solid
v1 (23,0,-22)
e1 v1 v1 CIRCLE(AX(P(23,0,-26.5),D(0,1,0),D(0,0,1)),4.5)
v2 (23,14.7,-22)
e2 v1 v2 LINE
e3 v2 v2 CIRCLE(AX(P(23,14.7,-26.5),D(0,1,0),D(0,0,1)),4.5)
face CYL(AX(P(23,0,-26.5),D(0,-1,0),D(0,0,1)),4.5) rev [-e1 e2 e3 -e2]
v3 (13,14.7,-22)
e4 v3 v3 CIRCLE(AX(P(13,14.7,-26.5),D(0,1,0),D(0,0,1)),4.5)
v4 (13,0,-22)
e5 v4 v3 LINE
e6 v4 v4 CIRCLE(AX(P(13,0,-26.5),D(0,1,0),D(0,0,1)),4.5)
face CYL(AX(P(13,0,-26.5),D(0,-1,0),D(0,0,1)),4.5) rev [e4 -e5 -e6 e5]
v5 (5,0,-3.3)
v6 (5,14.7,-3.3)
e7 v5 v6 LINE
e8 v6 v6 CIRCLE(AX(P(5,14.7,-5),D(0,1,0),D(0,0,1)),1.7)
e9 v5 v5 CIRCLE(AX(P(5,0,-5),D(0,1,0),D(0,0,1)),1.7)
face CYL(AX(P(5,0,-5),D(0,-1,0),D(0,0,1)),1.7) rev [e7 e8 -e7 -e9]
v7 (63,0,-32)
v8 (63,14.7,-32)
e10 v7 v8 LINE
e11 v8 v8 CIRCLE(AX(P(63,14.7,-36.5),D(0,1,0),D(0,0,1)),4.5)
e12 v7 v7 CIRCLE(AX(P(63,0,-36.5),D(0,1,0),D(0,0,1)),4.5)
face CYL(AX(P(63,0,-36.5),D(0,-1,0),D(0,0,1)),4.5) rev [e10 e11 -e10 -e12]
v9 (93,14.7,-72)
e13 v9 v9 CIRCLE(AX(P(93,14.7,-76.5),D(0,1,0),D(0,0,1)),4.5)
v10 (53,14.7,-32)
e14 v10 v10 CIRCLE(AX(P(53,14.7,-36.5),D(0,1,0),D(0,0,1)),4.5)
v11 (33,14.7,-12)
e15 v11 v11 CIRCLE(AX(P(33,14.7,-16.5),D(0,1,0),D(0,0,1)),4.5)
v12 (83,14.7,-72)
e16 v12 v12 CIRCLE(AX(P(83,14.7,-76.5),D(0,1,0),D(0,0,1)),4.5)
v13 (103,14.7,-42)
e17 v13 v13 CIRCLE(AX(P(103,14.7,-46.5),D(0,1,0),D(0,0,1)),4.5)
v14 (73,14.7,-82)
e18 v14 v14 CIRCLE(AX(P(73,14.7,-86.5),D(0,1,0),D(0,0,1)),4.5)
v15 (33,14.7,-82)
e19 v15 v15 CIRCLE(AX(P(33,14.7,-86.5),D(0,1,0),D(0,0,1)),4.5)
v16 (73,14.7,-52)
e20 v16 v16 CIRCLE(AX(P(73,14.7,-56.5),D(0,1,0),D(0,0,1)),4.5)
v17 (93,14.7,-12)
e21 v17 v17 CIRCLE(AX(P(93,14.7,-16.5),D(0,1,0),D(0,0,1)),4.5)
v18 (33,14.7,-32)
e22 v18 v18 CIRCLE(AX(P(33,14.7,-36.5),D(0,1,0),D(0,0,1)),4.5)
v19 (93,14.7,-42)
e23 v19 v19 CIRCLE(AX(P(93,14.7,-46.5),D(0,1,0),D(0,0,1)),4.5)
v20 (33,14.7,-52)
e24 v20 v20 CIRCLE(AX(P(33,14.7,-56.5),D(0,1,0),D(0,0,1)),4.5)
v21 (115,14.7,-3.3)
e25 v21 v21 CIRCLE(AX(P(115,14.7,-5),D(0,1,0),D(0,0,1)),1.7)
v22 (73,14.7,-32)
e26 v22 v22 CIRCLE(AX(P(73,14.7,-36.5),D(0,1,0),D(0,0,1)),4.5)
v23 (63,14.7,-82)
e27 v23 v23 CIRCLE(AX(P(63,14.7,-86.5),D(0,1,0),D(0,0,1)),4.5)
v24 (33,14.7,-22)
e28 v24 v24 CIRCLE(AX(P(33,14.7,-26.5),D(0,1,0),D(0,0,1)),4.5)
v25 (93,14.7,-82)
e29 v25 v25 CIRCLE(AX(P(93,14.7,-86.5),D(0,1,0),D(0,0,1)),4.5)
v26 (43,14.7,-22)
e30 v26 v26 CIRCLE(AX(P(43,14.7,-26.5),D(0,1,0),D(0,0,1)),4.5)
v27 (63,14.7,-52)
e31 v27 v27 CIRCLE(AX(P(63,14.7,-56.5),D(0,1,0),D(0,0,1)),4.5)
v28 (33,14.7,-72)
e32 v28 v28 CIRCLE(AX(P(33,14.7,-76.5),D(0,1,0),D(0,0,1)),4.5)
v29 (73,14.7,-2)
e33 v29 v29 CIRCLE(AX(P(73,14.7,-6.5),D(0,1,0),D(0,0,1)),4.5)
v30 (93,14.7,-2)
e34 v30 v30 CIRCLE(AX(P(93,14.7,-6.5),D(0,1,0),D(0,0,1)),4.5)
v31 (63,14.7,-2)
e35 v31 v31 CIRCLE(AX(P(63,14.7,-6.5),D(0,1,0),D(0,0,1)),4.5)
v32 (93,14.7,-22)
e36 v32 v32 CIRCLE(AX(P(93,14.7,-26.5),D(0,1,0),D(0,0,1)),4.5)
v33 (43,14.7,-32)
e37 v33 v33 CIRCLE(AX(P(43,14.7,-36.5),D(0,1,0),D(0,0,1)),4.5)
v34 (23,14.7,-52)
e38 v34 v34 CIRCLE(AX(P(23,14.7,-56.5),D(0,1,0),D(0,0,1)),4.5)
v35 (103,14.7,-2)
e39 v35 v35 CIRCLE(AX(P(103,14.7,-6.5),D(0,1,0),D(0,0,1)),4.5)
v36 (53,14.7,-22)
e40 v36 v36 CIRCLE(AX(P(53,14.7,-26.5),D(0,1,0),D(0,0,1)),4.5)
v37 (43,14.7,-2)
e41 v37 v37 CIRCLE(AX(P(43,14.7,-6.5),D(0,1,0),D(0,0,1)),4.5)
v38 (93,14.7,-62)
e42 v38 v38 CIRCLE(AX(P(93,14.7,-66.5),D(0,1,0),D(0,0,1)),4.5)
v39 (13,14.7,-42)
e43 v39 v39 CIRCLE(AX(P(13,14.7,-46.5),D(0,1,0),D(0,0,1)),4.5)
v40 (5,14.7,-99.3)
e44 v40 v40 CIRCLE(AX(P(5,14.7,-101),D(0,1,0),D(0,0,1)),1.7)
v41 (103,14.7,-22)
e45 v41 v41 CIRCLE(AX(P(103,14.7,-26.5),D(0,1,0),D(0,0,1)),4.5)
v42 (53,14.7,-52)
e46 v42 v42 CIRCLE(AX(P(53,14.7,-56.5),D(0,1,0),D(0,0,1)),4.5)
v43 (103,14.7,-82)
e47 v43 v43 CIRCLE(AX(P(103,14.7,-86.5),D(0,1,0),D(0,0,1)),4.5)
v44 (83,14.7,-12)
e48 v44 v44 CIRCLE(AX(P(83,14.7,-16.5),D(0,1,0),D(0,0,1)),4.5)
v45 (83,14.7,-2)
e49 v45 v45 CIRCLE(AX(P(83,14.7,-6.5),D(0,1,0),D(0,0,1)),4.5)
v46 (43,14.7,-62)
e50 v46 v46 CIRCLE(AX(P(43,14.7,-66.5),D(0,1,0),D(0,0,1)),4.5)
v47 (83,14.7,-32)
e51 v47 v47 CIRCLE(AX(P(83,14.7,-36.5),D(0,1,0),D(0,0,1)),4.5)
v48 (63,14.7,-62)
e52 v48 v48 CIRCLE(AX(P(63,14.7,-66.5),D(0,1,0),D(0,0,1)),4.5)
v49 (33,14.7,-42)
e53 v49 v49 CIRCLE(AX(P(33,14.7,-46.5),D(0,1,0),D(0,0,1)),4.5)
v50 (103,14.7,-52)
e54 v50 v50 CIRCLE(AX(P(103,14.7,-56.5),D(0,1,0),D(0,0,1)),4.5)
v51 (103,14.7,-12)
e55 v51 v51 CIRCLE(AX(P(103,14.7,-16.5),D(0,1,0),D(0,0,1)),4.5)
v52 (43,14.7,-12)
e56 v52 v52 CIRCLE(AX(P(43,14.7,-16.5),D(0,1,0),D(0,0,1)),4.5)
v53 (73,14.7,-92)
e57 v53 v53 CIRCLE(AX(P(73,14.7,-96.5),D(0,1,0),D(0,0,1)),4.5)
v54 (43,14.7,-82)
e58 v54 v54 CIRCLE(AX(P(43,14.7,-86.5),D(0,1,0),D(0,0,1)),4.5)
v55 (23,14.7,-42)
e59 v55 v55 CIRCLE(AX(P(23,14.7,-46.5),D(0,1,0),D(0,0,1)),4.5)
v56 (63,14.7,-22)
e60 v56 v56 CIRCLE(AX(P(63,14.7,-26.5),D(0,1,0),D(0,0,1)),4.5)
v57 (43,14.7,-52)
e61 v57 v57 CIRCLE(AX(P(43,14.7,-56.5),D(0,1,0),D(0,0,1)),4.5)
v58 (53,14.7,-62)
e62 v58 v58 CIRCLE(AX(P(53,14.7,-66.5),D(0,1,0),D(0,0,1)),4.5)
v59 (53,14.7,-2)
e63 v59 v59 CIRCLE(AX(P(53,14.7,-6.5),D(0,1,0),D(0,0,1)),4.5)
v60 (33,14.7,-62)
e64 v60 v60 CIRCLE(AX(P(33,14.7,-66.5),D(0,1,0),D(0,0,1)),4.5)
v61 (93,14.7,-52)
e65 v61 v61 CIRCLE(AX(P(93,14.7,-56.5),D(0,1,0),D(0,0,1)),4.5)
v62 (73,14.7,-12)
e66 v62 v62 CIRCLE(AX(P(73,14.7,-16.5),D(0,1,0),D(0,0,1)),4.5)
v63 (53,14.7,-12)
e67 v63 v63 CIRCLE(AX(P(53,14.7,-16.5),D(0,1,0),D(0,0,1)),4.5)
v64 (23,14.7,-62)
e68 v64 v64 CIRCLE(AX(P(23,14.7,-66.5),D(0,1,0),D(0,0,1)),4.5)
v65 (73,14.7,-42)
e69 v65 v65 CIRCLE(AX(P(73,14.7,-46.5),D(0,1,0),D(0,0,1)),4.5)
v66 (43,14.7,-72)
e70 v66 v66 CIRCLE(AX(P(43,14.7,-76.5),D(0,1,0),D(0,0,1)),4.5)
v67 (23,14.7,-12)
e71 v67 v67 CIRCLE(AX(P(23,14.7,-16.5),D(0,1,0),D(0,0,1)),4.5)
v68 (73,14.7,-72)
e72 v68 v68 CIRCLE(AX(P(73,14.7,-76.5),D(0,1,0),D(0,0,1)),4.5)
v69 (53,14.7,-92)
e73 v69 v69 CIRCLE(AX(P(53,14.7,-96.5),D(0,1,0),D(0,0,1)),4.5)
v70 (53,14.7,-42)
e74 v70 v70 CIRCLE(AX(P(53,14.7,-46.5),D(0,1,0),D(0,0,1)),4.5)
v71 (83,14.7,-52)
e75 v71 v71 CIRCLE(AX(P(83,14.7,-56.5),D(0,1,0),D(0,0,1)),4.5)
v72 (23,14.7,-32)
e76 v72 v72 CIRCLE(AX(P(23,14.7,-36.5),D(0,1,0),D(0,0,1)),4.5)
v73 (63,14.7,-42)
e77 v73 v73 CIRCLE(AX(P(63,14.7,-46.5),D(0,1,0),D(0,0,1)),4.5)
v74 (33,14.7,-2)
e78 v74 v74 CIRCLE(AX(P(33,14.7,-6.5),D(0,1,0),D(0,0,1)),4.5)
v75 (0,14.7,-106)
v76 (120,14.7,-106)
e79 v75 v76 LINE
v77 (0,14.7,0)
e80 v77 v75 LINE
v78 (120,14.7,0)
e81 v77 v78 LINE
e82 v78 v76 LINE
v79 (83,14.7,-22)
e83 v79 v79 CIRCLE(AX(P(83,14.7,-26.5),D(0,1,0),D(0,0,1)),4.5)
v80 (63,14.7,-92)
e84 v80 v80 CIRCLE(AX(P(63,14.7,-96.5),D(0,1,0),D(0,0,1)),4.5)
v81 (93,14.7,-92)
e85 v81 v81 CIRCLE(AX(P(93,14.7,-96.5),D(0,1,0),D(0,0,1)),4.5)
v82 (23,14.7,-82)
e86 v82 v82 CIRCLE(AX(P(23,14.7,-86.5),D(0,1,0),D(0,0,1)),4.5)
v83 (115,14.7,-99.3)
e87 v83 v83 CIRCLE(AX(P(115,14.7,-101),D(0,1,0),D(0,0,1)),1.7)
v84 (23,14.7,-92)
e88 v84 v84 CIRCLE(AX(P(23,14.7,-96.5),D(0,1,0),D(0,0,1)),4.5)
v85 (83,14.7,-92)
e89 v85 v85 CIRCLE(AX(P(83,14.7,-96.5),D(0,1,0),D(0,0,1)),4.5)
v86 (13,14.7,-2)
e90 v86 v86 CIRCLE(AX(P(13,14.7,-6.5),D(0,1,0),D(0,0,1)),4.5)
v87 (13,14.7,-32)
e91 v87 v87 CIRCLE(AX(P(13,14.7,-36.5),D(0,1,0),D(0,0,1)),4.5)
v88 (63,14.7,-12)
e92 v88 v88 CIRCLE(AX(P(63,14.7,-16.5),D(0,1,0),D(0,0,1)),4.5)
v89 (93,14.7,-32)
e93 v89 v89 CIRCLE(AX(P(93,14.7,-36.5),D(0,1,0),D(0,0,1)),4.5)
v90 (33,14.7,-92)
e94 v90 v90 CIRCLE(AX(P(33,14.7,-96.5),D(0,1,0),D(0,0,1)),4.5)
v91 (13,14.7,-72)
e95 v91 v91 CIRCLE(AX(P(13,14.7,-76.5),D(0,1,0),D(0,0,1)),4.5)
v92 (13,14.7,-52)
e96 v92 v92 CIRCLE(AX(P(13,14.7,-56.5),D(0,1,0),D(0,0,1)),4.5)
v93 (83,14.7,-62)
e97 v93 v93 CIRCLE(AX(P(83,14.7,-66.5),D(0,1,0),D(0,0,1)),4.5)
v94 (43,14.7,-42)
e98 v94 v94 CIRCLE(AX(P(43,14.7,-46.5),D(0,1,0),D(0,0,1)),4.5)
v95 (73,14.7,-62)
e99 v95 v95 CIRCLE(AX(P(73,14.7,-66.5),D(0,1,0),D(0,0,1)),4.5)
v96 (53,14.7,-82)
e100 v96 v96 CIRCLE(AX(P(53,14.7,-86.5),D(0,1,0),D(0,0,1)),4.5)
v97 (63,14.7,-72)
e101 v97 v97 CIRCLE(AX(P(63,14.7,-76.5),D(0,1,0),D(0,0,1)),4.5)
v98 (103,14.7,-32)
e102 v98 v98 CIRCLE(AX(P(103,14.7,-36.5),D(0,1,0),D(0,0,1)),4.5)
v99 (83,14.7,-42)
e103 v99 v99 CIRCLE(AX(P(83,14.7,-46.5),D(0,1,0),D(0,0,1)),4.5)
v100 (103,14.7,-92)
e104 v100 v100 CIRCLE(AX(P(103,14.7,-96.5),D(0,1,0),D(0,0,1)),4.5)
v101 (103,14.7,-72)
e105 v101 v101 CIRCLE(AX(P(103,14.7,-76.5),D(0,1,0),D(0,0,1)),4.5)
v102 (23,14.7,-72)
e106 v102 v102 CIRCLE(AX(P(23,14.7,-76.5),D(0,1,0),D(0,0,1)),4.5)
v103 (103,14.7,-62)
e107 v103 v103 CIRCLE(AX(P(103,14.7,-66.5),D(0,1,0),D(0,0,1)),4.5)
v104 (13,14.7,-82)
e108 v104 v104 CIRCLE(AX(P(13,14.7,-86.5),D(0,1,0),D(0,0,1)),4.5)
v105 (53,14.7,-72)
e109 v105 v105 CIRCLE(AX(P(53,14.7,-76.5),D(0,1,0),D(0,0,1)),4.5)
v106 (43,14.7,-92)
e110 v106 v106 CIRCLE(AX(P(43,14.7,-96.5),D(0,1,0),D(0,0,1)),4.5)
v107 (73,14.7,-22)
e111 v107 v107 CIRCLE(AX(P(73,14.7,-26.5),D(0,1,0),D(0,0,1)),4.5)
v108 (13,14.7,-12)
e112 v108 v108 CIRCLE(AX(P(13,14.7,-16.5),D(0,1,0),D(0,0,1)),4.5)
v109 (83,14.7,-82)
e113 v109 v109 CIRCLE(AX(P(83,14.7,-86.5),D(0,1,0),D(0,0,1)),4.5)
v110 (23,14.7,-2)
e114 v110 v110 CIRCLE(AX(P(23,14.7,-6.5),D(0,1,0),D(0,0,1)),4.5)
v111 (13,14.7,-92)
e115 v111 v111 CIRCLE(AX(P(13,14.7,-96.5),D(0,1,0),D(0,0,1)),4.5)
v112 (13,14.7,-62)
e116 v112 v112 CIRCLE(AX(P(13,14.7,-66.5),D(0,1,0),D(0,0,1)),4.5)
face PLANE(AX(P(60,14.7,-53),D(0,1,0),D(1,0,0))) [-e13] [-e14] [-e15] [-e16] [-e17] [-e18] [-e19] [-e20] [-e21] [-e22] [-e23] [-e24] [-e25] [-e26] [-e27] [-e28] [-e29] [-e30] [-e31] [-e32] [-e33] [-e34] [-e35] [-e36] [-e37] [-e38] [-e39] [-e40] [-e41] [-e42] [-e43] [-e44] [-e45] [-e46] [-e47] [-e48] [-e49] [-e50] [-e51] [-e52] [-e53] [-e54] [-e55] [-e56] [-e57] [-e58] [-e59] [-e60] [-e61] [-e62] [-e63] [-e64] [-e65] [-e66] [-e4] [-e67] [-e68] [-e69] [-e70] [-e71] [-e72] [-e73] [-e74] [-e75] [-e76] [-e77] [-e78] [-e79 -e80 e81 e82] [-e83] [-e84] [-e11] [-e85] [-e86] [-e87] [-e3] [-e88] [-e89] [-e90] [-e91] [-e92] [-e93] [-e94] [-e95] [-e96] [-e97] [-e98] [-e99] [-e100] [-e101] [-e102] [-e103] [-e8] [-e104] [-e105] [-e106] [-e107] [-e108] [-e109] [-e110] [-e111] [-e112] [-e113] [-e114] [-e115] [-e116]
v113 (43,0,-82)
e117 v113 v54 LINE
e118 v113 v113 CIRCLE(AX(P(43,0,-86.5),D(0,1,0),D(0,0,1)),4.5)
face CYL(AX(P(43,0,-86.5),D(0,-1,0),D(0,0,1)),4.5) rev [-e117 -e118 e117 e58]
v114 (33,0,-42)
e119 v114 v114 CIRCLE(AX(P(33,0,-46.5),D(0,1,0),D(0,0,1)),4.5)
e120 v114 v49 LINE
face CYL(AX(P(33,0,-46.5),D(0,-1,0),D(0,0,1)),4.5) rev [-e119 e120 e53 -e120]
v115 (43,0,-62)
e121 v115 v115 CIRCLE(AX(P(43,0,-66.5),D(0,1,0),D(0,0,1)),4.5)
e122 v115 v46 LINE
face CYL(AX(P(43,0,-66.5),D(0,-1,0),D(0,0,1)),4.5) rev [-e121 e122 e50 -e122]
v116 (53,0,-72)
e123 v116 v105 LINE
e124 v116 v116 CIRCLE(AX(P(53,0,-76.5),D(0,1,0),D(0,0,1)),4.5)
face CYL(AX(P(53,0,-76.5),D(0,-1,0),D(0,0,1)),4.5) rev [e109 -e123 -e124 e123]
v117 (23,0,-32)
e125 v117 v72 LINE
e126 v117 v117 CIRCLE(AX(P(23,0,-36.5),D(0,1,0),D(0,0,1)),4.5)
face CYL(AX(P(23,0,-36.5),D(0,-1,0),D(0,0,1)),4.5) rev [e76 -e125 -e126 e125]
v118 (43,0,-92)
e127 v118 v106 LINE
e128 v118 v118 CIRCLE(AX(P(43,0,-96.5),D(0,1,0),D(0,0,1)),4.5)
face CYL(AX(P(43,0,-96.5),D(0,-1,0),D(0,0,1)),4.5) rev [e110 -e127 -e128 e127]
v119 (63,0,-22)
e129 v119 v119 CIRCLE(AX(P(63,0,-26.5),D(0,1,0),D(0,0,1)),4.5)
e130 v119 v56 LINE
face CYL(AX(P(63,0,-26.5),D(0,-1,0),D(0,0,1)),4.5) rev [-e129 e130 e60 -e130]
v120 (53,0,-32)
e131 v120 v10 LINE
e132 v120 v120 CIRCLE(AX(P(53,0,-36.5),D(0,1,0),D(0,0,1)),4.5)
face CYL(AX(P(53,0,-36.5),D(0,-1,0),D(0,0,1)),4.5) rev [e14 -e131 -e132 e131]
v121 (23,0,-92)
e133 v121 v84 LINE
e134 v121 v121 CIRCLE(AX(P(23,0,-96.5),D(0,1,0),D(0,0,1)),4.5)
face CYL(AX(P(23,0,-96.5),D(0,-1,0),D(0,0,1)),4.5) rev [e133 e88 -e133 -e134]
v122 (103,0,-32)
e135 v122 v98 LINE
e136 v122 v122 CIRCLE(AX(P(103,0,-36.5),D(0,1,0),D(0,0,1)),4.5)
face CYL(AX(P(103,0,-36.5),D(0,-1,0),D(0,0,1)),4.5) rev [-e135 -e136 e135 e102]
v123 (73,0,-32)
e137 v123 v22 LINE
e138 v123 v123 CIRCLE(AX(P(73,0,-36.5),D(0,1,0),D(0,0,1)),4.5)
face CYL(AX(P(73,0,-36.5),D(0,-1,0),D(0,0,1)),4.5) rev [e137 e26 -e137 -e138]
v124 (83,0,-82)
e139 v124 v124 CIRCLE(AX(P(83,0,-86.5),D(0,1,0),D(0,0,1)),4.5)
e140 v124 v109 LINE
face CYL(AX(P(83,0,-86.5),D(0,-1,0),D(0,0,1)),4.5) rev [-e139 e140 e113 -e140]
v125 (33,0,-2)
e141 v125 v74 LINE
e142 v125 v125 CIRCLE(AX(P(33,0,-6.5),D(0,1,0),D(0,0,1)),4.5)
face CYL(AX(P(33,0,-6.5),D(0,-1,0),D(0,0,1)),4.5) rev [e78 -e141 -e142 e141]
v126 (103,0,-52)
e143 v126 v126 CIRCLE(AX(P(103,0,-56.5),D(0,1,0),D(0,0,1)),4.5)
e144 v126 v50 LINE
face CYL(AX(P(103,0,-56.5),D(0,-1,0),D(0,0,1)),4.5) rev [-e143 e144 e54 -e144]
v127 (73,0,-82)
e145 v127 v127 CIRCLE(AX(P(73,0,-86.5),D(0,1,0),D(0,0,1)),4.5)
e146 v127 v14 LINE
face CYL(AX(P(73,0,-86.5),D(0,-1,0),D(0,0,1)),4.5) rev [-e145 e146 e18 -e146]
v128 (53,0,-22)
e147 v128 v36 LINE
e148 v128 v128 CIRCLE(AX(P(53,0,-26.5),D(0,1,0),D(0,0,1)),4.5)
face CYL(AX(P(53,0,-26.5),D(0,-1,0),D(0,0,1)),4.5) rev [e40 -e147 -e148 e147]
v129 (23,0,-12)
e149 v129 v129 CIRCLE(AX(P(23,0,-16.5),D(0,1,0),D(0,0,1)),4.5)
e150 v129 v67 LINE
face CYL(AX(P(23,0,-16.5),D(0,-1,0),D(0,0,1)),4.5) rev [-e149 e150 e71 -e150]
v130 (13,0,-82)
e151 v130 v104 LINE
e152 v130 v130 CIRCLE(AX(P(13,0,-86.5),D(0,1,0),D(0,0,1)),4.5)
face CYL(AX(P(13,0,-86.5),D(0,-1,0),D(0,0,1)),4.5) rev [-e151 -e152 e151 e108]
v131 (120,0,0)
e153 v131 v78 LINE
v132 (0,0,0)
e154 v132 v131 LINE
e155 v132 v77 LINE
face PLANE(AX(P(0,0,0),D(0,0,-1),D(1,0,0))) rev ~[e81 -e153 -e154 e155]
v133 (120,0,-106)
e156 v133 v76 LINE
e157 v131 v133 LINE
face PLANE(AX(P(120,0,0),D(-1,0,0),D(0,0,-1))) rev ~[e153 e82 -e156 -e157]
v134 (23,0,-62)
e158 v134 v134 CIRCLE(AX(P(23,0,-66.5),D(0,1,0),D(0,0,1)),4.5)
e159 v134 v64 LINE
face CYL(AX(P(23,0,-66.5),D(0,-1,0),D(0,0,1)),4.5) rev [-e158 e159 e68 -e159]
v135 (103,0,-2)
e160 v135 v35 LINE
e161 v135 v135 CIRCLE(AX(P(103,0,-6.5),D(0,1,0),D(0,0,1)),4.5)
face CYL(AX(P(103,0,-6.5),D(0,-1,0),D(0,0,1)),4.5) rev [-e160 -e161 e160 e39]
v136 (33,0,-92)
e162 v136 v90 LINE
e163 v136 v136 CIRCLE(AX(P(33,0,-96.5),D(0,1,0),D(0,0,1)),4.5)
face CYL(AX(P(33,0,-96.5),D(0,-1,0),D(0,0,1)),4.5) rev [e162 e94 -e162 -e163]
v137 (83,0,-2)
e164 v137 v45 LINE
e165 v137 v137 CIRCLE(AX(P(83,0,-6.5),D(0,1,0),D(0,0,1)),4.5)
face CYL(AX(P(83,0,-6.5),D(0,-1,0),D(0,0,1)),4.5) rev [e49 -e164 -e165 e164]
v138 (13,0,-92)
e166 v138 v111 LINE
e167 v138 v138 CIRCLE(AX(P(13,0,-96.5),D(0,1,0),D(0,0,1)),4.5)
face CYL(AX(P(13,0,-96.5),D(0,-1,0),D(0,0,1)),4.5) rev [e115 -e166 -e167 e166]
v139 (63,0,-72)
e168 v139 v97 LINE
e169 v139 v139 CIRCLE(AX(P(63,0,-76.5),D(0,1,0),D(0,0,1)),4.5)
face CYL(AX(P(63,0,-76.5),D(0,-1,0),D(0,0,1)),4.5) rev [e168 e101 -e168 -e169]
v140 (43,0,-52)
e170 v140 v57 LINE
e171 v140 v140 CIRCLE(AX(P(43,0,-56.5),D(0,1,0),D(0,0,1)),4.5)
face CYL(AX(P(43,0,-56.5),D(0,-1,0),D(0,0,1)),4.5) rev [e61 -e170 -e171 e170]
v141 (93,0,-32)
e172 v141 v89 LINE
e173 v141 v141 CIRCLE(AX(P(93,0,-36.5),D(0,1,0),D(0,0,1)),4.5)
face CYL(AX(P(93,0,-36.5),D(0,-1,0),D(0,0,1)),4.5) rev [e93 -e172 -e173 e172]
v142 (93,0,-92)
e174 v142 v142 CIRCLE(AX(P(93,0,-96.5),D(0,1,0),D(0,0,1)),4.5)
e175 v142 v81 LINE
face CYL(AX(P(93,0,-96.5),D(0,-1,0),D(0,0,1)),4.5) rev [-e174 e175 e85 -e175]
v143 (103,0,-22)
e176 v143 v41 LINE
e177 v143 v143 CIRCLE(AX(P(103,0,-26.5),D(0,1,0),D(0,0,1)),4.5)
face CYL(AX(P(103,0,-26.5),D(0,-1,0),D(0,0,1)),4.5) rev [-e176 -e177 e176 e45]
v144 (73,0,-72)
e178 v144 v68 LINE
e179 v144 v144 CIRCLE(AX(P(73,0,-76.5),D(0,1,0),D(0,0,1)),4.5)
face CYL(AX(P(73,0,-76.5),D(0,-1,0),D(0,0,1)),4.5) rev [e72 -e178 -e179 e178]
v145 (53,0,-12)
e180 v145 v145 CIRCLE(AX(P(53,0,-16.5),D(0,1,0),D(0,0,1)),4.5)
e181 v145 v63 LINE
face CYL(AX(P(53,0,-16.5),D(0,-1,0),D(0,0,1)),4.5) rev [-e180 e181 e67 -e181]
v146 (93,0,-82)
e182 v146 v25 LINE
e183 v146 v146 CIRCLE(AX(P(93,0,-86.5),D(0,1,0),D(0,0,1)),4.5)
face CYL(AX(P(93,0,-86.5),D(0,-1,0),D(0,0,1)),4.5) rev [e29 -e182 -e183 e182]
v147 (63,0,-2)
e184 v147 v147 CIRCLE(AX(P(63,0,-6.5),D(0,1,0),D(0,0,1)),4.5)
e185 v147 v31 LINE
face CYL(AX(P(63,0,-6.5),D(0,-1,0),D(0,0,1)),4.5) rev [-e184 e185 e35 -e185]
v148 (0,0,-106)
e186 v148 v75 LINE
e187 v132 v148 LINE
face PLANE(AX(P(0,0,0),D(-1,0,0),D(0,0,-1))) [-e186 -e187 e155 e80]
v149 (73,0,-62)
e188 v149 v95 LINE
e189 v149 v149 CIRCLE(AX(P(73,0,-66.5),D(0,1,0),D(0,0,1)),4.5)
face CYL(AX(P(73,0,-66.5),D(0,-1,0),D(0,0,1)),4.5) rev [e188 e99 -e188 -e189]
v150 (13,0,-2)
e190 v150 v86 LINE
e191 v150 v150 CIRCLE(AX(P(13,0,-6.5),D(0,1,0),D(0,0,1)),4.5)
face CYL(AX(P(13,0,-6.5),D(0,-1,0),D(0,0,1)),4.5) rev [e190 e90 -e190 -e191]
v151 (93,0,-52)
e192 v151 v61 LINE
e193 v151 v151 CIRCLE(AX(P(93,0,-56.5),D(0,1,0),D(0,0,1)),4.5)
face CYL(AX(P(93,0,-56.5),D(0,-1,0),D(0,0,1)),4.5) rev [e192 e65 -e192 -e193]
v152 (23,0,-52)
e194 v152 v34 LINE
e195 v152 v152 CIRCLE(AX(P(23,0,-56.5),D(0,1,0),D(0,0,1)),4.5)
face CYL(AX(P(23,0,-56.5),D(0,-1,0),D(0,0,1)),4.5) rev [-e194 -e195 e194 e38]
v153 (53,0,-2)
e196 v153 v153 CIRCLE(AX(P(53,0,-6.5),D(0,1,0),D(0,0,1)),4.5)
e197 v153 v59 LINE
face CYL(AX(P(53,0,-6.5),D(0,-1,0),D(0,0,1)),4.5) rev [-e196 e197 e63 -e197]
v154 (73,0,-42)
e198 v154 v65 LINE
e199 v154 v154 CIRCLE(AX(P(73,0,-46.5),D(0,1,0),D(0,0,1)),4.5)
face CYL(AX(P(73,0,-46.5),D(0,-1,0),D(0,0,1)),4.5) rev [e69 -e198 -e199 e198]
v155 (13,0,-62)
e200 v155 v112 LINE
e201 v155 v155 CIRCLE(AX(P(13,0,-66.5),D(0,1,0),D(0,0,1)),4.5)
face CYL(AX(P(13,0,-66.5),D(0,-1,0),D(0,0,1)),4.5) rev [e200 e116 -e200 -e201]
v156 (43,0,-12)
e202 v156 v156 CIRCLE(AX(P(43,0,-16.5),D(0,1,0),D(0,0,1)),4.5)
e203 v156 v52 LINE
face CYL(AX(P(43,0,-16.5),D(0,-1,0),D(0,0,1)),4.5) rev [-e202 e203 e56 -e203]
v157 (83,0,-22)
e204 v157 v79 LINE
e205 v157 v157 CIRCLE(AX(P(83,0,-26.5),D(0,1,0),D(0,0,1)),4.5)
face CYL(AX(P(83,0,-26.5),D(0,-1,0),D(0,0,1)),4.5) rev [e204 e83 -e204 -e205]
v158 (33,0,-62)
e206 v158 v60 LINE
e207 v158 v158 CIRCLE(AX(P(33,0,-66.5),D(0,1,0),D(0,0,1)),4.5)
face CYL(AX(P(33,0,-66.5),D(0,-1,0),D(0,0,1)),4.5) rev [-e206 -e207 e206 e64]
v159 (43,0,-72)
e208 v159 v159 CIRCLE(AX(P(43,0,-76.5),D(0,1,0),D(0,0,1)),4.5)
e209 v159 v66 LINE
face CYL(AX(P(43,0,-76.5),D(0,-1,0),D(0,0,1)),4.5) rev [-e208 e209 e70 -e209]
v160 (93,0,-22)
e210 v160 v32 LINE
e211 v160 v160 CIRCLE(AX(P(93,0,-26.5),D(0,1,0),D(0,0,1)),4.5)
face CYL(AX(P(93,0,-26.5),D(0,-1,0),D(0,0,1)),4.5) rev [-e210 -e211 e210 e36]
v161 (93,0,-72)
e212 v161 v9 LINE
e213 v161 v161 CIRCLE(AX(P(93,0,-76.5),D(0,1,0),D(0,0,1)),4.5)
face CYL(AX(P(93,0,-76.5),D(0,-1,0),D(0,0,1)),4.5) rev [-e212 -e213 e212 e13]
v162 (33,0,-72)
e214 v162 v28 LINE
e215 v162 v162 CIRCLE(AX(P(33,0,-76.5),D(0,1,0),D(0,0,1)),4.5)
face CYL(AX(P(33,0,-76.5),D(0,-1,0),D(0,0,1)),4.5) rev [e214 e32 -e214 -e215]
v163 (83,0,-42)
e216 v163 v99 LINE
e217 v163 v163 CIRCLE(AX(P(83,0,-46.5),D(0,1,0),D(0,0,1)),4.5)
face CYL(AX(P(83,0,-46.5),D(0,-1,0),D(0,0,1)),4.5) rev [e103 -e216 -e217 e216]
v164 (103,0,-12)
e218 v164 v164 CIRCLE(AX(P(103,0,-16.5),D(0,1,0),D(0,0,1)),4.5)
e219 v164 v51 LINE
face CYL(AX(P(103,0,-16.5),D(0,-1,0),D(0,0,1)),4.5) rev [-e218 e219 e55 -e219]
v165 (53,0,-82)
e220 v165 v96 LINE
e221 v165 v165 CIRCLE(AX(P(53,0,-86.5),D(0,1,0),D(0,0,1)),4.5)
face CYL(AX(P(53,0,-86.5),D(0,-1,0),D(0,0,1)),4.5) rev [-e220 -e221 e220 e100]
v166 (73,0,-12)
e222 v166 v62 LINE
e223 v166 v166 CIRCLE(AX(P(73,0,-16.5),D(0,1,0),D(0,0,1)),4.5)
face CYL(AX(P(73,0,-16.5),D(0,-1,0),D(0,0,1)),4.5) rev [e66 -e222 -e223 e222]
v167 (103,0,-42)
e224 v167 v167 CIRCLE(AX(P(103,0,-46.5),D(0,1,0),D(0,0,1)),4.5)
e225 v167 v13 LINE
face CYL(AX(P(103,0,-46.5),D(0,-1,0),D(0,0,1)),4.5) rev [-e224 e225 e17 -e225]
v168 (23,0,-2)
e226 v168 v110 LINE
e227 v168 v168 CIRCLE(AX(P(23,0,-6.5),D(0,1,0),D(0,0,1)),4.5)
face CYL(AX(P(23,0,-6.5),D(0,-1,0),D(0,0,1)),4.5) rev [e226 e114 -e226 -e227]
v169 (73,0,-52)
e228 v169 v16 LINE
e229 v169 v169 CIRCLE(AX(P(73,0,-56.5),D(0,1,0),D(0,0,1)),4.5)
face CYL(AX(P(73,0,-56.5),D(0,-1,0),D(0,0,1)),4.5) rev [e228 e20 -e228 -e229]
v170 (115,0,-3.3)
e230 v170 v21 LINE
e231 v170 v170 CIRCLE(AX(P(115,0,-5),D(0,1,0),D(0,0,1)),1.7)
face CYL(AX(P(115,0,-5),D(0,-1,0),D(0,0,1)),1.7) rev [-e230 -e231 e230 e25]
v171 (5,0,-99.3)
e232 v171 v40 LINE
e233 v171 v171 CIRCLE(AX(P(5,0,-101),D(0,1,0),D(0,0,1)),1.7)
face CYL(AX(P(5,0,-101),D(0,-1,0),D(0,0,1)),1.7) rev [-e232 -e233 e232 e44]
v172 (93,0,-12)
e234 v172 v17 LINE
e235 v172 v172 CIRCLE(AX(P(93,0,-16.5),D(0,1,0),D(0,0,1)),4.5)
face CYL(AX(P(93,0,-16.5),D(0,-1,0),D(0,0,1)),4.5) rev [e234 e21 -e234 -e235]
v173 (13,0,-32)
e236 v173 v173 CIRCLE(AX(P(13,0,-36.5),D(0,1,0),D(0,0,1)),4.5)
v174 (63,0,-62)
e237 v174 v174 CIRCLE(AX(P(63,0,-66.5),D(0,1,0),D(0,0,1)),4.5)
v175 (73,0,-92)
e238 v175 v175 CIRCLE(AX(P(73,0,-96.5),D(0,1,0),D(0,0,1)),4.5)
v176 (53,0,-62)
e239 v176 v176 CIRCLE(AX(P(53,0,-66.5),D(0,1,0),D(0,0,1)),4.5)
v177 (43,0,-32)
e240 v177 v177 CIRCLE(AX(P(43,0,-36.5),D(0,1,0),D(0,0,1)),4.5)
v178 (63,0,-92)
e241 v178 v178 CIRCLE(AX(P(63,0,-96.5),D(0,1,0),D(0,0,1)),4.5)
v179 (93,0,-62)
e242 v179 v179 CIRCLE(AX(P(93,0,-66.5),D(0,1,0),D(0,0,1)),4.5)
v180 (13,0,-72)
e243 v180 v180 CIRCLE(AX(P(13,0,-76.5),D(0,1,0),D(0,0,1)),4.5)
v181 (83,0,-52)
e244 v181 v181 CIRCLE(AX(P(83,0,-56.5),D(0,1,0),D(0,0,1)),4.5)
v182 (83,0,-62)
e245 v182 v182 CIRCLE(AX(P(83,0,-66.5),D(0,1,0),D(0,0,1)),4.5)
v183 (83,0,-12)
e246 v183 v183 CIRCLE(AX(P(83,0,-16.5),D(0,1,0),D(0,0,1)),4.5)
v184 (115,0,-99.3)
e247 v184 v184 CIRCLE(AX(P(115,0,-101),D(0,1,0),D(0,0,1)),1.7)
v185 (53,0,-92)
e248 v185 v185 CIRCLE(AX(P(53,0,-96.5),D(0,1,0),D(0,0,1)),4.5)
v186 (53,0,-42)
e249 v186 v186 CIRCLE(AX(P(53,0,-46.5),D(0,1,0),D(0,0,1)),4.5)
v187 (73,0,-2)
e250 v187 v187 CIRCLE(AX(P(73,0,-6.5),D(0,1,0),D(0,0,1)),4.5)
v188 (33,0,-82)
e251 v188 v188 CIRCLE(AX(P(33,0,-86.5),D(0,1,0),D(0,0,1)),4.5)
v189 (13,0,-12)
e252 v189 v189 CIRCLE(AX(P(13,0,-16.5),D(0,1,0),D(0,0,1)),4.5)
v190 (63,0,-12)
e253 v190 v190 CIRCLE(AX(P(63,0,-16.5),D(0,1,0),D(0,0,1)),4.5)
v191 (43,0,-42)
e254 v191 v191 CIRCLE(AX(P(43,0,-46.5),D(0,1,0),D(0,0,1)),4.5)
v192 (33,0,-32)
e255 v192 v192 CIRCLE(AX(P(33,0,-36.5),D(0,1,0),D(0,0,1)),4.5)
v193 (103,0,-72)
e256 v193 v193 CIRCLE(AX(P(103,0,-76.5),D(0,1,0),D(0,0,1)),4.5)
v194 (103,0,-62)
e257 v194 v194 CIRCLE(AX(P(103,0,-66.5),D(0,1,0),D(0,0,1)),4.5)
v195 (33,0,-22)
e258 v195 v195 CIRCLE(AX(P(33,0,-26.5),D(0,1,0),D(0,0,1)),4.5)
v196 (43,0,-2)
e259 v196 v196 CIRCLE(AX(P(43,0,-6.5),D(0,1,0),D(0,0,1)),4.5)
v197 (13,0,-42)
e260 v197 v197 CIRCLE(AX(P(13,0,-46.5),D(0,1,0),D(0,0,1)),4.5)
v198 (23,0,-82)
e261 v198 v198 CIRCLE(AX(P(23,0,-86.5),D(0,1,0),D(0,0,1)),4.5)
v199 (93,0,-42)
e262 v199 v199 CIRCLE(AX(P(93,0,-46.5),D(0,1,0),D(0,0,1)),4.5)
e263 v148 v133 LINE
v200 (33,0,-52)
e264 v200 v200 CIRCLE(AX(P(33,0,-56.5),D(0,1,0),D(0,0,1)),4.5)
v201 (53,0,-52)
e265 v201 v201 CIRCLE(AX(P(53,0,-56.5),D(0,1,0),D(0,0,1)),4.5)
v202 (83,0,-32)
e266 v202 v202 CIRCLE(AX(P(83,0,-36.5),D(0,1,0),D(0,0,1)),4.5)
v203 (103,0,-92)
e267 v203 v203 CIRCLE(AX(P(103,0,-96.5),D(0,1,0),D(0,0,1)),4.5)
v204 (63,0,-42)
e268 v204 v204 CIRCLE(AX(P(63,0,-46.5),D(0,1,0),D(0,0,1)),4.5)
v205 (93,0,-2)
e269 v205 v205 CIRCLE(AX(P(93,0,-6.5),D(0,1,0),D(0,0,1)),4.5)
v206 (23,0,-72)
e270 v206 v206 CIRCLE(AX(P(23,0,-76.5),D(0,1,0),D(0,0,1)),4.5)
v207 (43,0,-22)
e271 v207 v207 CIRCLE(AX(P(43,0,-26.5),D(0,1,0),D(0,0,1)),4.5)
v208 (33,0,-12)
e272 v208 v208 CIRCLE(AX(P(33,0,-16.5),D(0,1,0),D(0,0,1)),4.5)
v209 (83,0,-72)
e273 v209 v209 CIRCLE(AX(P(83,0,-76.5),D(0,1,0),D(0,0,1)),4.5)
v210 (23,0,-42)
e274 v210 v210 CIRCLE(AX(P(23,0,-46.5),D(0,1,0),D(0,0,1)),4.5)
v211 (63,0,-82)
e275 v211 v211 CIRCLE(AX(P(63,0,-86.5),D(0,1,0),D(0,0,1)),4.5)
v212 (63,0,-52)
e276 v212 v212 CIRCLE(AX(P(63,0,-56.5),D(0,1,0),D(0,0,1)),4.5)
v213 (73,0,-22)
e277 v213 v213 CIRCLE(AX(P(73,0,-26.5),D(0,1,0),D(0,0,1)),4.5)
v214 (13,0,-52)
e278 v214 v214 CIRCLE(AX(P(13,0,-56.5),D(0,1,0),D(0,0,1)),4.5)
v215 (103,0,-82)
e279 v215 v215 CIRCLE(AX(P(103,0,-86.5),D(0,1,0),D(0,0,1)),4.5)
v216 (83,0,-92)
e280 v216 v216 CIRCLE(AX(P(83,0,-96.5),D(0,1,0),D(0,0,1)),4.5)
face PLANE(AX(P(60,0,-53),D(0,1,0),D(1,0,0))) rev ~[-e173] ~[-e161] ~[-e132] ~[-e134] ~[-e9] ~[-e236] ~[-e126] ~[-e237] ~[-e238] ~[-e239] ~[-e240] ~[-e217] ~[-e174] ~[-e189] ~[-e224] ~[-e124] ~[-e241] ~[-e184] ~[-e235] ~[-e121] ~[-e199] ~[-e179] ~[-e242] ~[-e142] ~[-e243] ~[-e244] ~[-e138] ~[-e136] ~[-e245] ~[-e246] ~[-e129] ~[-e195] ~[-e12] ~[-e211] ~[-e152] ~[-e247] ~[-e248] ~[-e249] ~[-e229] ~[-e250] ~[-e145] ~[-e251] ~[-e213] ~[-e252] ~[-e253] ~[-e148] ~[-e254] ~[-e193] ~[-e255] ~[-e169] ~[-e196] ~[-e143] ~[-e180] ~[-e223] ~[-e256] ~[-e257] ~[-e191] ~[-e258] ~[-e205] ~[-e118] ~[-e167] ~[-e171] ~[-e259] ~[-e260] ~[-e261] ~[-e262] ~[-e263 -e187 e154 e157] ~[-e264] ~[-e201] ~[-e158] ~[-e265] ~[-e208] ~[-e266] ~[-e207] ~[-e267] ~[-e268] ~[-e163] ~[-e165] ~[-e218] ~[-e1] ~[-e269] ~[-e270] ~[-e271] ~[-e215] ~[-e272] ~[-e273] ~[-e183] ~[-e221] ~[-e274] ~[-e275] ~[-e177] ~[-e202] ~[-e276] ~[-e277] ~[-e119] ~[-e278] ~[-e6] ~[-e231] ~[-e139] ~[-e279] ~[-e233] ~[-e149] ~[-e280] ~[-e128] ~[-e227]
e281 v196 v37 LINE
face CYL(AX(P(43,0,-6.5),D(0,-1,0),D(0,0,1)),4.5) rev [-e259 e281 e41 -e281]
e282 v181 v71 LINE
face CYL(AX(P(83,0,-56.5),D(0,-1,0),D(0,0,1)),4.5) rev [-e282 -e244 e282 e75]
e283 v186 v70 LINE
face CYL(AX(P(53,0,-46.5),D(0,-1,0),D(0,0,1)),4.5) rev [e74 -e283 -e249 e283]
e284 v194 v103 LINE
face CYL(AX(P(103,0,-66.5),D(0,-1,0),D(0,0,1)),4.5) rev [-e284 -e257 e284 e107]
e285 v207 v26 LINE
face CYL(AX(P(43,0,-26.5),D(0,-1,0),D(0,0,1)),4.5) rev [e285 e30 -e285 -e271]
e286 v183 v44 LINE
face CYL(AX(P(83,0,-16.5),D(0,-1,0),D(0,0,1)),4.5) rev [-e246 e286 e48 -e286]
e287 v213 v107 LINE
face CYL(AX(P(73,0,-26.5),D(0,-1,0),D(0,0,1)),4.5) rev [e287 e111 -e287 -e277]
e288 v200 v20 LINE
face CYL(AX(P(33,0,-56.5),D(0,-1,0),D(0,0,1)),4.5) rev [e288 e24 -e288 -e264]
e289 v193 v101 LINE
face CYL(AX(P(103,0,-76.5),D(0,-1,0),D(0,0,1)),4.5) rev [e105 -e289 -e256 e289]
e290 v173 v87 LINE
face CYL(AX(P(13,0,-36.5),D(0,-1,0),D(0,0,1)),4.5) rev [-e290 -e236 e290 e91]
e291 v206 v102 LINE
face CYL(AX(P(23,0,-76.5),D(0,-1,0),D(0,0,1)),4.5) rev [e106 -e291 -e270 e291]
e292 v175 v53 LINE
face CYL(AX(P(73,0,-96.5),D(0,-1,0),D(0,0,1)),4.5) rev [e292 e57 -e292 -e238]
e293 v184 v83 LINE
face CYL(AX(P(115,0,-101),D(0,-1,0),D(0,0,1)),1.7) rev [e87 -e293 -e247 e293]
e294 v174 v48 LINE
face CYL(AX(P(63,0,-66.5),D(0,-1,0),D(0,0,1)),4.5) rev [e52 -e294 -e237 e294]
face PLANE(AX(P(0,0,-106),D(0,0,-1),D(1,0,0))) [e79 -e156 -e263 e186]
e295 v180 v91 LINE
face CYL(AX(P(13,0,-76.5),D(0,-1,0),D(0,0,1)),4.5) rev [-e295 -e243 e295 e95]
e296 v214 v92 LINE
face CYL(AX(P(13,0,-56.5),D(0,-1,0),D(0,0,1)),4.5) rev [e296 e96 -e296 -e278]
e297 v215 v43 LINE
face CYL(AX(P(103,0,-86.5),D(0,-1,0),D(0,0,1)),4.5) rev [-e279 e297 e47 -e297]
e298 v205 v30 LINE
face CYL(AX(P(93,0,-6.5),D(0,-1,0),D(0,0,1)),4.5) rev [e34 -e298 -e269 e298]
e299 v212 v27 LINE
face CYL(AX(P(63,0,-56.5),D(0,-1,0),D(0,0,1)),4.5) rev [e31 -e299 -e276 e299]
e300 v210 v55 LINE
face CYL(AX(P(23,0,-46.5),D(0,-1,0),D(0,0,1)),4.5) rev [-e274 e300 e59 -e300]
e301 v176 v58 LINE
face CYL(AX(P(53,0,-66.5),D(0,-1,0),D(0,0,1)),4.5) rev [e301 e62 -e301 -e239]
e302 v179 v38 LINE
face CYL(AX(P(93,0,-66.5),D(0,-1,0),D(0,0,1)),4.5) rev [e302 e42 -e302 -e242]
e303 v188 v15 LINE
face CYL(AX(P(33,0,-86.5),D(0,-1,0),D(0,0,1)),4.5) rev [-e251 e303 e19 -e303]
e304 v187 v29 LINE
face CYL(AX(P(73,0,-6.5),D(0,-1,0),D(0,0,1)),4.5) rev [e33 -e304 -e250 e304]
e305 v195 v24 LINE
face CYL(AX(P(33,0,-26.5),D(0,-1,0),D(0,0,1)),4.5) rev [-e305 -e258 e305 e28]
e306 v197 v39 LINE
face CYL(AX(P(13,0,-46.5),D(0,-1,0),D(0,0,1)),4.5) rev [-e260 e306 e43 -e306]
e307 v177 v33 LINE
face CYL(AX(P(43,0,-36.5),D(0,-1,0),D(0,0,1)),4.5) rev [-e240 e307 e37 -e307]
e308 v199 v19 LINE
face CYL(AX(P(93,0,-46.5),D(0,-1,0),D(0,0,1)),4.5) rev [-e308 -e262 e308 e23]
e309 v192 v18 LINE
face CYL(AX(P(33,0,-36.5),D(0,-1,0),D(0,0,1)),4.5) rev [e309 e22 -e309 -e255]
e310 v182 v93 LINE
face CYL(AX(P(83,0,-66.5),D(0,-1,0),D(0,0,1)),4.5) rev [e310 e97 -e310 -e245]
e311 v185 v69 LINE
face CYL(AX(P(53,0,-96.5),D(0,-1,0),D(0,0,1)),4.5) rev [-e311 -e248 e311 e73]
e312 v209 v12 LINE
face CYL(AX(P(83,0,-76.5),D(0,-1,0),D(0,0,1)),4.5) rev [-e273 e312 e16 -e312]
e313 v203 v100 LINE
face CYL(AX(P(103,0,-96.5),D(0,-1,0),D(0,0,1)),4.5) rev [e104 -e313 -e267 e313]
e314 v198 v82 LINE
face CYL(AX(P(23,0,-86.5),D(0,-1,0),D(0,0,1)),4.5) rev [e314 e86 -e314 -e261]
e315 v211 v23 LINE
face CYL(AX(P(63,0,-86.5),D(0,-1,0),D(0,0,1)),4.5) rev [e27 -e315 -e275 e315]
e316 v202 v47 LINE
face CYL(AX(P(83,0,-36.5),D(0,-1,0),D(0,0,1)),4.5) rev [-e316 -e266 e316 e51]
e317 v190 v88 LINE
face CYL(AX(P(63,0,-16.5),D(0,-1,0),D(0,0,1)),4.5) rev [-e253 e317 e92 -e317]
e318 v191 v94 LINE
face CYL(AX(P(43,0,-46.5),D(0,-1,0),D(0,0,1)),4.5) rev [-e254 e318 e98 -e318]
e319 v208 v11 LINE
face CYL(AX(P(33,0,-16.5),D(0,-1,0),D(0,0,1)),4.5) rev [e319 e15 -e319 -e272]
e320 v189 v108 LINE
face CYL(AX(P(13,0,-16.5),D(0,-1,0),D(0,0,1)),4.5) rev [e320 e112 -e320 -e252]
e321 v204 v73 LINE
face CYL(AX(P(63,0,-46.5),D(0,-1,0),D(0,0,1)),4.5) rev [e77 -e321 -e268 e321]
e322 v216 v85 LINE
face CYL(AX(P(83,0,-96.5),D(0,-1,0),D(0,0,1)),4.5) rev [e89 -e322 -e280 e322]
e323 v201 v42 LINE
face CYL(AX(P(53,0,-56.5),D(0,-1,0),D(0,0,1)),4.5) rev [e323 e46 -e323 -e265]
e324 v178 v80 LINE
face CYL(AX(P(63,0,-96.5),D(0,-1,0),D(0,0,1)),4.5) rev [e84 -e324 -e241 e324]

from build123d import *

# Parameters (mm, degrees)
SKETCH1_W           = 120
SKETCH1_H           = 106
SKETCH1_R           = 4.5
SKETCH1_R_2         = 1.7
BOSS_EXTRUDE1_DEPTH = 14.7


with BuildPart() as part:
    # Sketch1 → Boss-Extrude1 (new body)
    with BuildSketch(Plane(origin=(0, 0, 0), x_dir=(1, 0, 0), z_dir=(0, 1, 0))):
        with Locations((60, 53)):
            Rectangle(SKETCH1_W, SKETCH1_H)
        with Locations(Location((13, 36.5, 0), (0, 0, 270))):
            Circle(SKETCH1_R, mode=Mode.SUBTRACT)
        with Locations(Location((23, 36.5, 0), (0, 0, 270))):
            Circle(SKETCH1_R, mode=Mode.SUBTRACT)
        with Locations(Location((13, 6.5, 0), (0, 0, 270))):
            Circle(SKETCH1_R, mode=Mode.SUBTRACT)
        with Locations(Location((5, 5, 0), (0, 0, 270))):
            Circle(SKETCH1_R_2, mode=Mode.SUBTRACT)
        with Locations(Location((5, 101, 0), (0, 0, 270))):
            Circle(SKETCH1_R_2, mode=Mode.SUBTRACT)
        with Locations(Location((115, 101, 0), (0, 0, 270))):
            Circle(SKETCH1_R_2, mode=Mode.SUBTRACT)
        with Locations(Location((115, 5, 0), (0, 0, 270))):
            Circle(SKETCH1_R_2, mode=Mode.SUBTRACT)
        with Locations(Location((23, 6.5, 0), (0, 0, 270))):
            Circle(SKETCH1_R, mode=Mode.SUBTRACT)
        with Locations(Location((33, 6.5, 0), (0, 0, 270))):
            Circle(SKETCH1_R, mode=Mode.SUBTRACT)
        with Locations(Location((23, 16.5, 0), (0, 0, 270))):
            Circle(SKETCH1_R, mode=Mode.SUBTRACT)
        with Locations(Location((33, 16.5, 0), (0, 0, 270))):
            Circle(SKETCH1_R, mode=Mode.SUBTRACT)
        with Locations(Location((23, 26.5, 0), (0, 0, 270))):
            Circle(SKETCH1_R, mode=Mode.SUBTRACT)
        with Locations(Location((33, 26.5, 0), (0, 0, 270))):
            Circle(SKETCH1_R, mode=Mode.SUBTRACT)
        with Locations(Location((13, 16.5, 0), (0, 0, 270))):
            Circle(SKETCH1_R, mode=Mode.SUBTRACT)
        with Locations(Location((13, 26.5, 0), (0, 0, 270))):
            Circle(SKETCH1_R, mode=Mode.SUBTRACT)
        with Locations(Location((33, 36.5, 0), (0, 0, 270))):
            Circle(SKETCH1_R, mode=Mode.SUBTRACT)
        with Locations(Location((13, 46.5, 0), (0, 0, 270))):
            Circle(SKETCH1_R, mode=Mode.SUBTRACT)
        with Locations(Location((23, 46.5, 0), (0, 0, 270))):
            Circle(SKETCH1_R, mode=Mode.SUBTRACT)
        with Locations(Location((33, 46.5, 0), (0, 0, 270))):
            Circle(SKETCH1_R, mode=Mode.SUBTRACT)
        with Locations(Location((13, 56.5, 0), (0, 0, 270))):
            Circle(SKETCH1_R, mode=Mode.SUBTRACT)
        with Locations(Location((23, 56.5, 0), (0, 0, 270))):
            Circle(SKETCH1_R, mode=Mode.SUBTRACT)
        with Locations(Location((33, 56.5, 0), (0, 0, 270))):
            Circle(SKETCH1_R, mode=Mode.SUBTRACT)
        with Locations(Location((13, 66.5, 0), (0, 0, 270))):
            Circle(SKETCH1_R, mode=Mode.SUBTRACT)
        with Locations(Location((23, 66.5, 0), (0, 0, 270))):
            Circle(SKETCH1_R, mode=Mode.SUBTRACT)
        with Locations(Location((33, 66.5, 0), (0, 0, 270))):
            Circle(SKETCH1_R, mode=Mode.SUBTRACT)
        with Locations(Location((13, 76.5, 0), (0, 0, 270))):
            Circle(SKETCH1_R, mode=Mode.SUBTRACT)
        with Locations(Location((23, 76.5, 0), (0, 0, 270))):
            Circle(SKETCH1_R, mode=Mode.SUBTRACT)
        with Locations(Location((33, 76.5, 0), (0, 0, 270))):
            Circle(SKETCH1_R, mode=Mode.SUBTRACT)
        with Locations(Location((13, 86.5, 0), (0, 0, 270))):
            Circle(SKETCH1_R, mode=Mode.SUBTRACT)
        with Locations(Location((23, 86.5, 0), (0, 0, 270))):
            Circle(SKETCH1_R, mode=Mode.SUBTRACT)
        with Locations(Location((33, 86.5, 0), (0, 0, 270))):
            Circle(SKETCH1_R, mode=Mode.SUBTRACT)
        with Locations(Location((13, 96.5, 0), (0, 0, 270))):
            Circle(SKETCH1_R, mode=Mode.SUBTRACT)
        with Locations(Location((23, 96.5, 0), (0, 0, 270))):
            Circle(SKETCH1_R, mode=Mode.SUBTRACT)
        with Locations(Location((33, 96.5, 0), (0, 0, 270))):
            Circle(SKETCH1_R, mode=Mode.SUBTRACT)
        with Locations(Location((43, 6.5, 0), (0, 0, 270))):
            Circle(SKETCH1_R, mode=Mode.SUBTRACT)
        with Locations(Location((53, 6.5, 0), (0, 0, 270))):
            Circle(SKETCH1_R, mode=Mode.SUBTRACT)
        with Locations(Location((63, 6.5, 0), (0, 0, 270))):
            Circle(SKETCH1_R, mode=Mode.SUBTRACT)
        with Locations(Location((73, 6.5, 0), (0, 0, 270))):
            Circle(SKETCH1_R, mode=Mode.SUBTRACT)
        with Locations(Location((83, 6.5, 0), (0, 0, 270))):
            Circle(SKETCH1_R, mode=Mode.SUBTRACT)
        with Locations(Location((93, 6.5, 0), (0, 0, 270))):
            Circle(SKETCH1_R, mode=Mode.SUBTRACT)
        with Locations(Location((103, 6.5, 0), (0, 0, 270))):
            Circle(SKETCH1_R, mode=Mode.SUBTRACT)
        with Locations(Location((43, 16.5, 0), (0, 0, 270))):
            Circle(SKETCH1_R, mode=Mode.SUBTRACT)
        with Locations(Location((53, 16.5, 0), (0, 0, 270))):
            Circle(SKETCH1_R, mode=Mode.SUBTRACT)
        with Locations(Location((63, 16.5, 0), (0, 0, 270))):
            Circle(SKETCH1_R, mode=Mode.SUBTRACT)
        with Locations(Location((73, 16.5, 0), (0, 0, 270))):
            Circle(SKETCH1_R, mode=Mode.SUBTRACT)
        with Locations(Location((83, 16.5, 0), (0, 0, 270))):
            Circle(SKETCH1_R, mode=Mode.SUBTRACT)
        with Locations(Location((93, 16.5, 0), (0, 0, 270))):
            Circle(SKETCH1_R, mode=Mode.SUBTRACT)
        with Locations(Location((103, 16.5, 0), (0, 0, 270))):
            Circle(SKETCH1_R, mode=Mode.SUBTRACT)
        with Locations(Location((43, 26.5, 0), (0, 0, 270))):
            Circle(SKETCH1_R, mode=Mode.SUBTRACT)
        with Locations(Location((53, 26.5, 0), (0, 0, 270))):
            Circle(SKETCH1_R, mode=Mode.SUBTRACT)
        with Locations(Location((63, 26.5, 0), (0, 0, 270))):
            Circle(SKETCH1_R, mode=Mode.SUBTRACT)
        with Locations(Location((73, 26.5, 0), (0, 0, 270))):
            Circle(SKETCH1_R, mode=Mode.SUBTRACT)
        with Locations(Location((83, 26.5, 0), (0, 0, 270))):
            Circle(SKETCH1_R, mode=Mode.SUBTRACT)
        with Locations(Location((93, 26.5, 0), (0, 0, 270))):
            Circle(SKETCH1_R, mode=Mode.SUBTRACT)
        with Locations(Location((103, 26.5, 0), (0, 0, 270))):
            Circle(SKETCH1_R, mode=Mode.SUBTRACT)
        with Locations(Location((43, 36.5, 0), (0, 0, 270))):
            Circle(SKETCH1_R, mode=Mode.SUBTRACT)
        with Locations(Location((53, 36.5, 0), (0, 0, 270))):
            Circle(SKETCH1_R, mode=Mode.SUBTRACT)
        with Locations(Location((63, 36.5, 0), (0, 0, 270))):
            Circle(SKETCH1_R, mode=Mode.SUBTRACT)
        with Locations(Location((73, 36.5, 0), (0, 0, 270))):
            Circle(SKETCH1_R, mode=Mode.SUBTRACT)
        with Locations(Location((83, 36.5, 0), (0, 0, 270))):
            Circle(SKETCH1_R, mode=Mode.SUBTRACT)
        with Locations(Location((93, 36.5, 0), (0, 0, 270))):
            Circle(SKETCH1_R, mode=Mode.SUBTRACT)
        with Locations(Location((103, 36.5, 0), (0, 0, 270))):
            Circle(SKETCH1_R, mode=Mode.SUBTRACT)
        with Locations(Location((43, 46.5, 0), (0, 0, 270))):
            Circle(SKETCH1_R, mode=Mode.SUBTRACT)
        with Locations(Location((53, 46.5, 0), (0, 0, 270))):
            Circle(SKETCH1_R, mode=Mode.SUBTRACT)
        with Locations(Location((63, 46.5, 0), (0, 0, 270))):
            Circle(SKETCH1_R, mode=Mode.SUBTRACT)
        with Locations(Location((73, 46.5, 0), (0, 0, 270))):
            Circle(SKETCH1_R, mode=Mode.SUBTRACT)
        with Locations(Location((83, 46.5, 0), (0, 0, 270))):
            Circle(SKETCH1_R, mode=Mode.SUBTRACT)
        with Locations(Location((93, 46.5, 0), (0, 0, 270))):
            Circle(SKETCH1_R, mode=Mode.SUBTRACT)
        with Locations(Location((103, 46.5, 0), (0, 0, 270))):
            Circle(SKETCH1_R, mode=Mode.SUBTRACT)
        with Locations(Location((43, 56.5, 0), (0, 0, 270))):
            Circle(SKETCH1_R, mode=Mode.SUBTRACT)
        with Locations(Location((53, 56.5, 0), (0, 0, 270))):
            Circle(SKETCH1_R, mode=Mode.SUBTRACT)
        with Locations(Location((63, 56.5, 0), (0, 0, 270))):
            Circle(SKETCH1_R, mode=Mode.SUBTRACT)
        with Locations(Location((73, 56.5, 0), (0, 0, 270))):
            Circle(SKETCH1_R, mode=Mode.SUBTRACT)
        with Locations(Location((83, 56.5, 0), (0, 0, 270))):
            Circle(SKETCH1_R, mode=Mode.SUBTRACT)
        with Locations(Location((93, 56.5, 0), (0, 0, 270))):
            Circle(SKETCH1_R, mode=Mode.SUBTRACT)
        with Locations(Location((103, 56.5, 0), (0, 0, 270))):
            Circle(SKETCH1_R, mode=Mode.SUBTRACT)
        with Locations(Location((43, 66.5, 0), (0, 0, 270))):
            Circle(SKETCH1_R, mode=Mode.SUBTRACT)
        with Locations(Location((53, 66.5, 0), (0, 0, 270))):
            Circle(SKETCH1_R, mode=Mode.SUBTRACT)
        with Locations(Location((63, 66.5, 0), (0, 0, 270))):
            Circle(SKETCH1_R, mode=Mode.SUBTRACT)
        with Locations(Location((73, 66.5, 0), (0, 0, 270))):
            Circle(SKETCH1_R, mode=Mode.SUBTRACT)
        with Locations(Location((83, 66.5, 0), (0, 0, 270))):
            Circle(SKETCH1_R, mode=Mode.SUBTRACT)
        with Locations(Location((93, 66.5, 0), (0, 0, 270))):
            Circle(SKETCH1_R, mode=Mode.SUBTRACT)
        with Locations(Location((103, 66.5, 0), (0, 0, 270))):
            Circle(SKETCH1_R, mode=Mode.SUBTRACT)
        with Locations(Location((43, 76.5, 0), (0, 0, 270))):
            Circle(SKETCH1_R, mode=Mode.SUBTRACT)
        with Locations(Location((53, 76.5, 0), (0, 0, 270))):
            Circle(SKETCH1_R, mode=Mode.SUBTRACT)
        with Locations(Location((63, 76.5, 0), (0, 0, 270))):
            Circle(SKETCH1_R, mode=Mode.SUBTRACT)
        with Locations(Location((73, 76.5, 0), (0, 0, 270))):
            Circle(SKETCH1_R, mode=Mode.SUBTRACT)
        with Locations(Location((83, 76.5, 0), (0, 0, 270))):
            Circle(SKETCH1_R, mode=Mode.SUBTRACT)
        with Locations(Location((93, 76.5, 0), (0, 0, 270))):
            Circle(SKETCH1_R, mode=Mode.SUBTRACT)
        with Locations(Location((103, 76.5, 0), (0, 0, 270))):
            Circle(SKETCH1_R, mode=Mode.SUBTRACT)
        with Locations(Location((43, 86.5, 0), (0, 0, 270))):
            Circle(SKETCH1_R, mode=Mode.SUBTRACT)
        with Locations(Location((53, 86.5, 0), (0, 0, 270))):
            Circle(SKETCH1_R, mode=Mode.SUBTRACT)
        with Locations(Location((63, 86.5, 0), (0, 0, 270))):
            Circle(SKETCH1_R, mode=Mode.SUBTRACT)
        with Locations(Location((73, 86.5, 0), (0, 0, 270))):
            Circle(SKETCH1_R, mode=Mode.SUBTRACT)
        with Locations(Location((83, 86.5, 0), (0, 0, 270))):
            Circle(SKETCH1_R, mode=Mode.SUBTRACT)
        with Locations(Location((93, 86.5, 0), (0, 0, 270))):
            Circle(SKETCH1_R, mode=Mode.SUBTRACT)
        with Locations(Location((103, 86.5, 0), (0, 0, 270))):
            Circle(SKETCH1_R, mode=Mode.SUBTRACT)
        with Locations(Location((43, 96.5, 0), (0, 0, 270))):
            Circle(SKETCH1_R, mode=Mode.SUBTRACT)
        with Locations(Location((53, 96.5, 0), (0, 0, 270))):
            Circle(SKETCH1_R, mode=Mode.SUBTRACT)
        with Locations(Location((63, 96.5, 0), (0, 0, 270))):
            Circle(SKETCH1_R, mode=Mode.SUBTRACT)
        with Locations(Location((73, 96.5, 0), (0, 0, 270))):
            Circle(SKETCH1_R, mode=Mode.SUBTRACT)
        with Locations(Location((83, 96.5, 0), (0, 0, 270))):
            Circle(SKETCH1_R, mode=Mode.SUBTRACT)
        with Locations(Location((93, 96.5, 0), (0, 0, 270))):
            Circle(SKETCH1_R, mode=Mode.SUBTRACT)
        with Locations(Location((103, 96.5, 0), (0, 0, 270))):
            Circle(SKETCH1_R, mode=Mode.SUBTRACT)
    extrude(amount=BOSS_EXTRUDE1_DEPTH)


solid = part.part
